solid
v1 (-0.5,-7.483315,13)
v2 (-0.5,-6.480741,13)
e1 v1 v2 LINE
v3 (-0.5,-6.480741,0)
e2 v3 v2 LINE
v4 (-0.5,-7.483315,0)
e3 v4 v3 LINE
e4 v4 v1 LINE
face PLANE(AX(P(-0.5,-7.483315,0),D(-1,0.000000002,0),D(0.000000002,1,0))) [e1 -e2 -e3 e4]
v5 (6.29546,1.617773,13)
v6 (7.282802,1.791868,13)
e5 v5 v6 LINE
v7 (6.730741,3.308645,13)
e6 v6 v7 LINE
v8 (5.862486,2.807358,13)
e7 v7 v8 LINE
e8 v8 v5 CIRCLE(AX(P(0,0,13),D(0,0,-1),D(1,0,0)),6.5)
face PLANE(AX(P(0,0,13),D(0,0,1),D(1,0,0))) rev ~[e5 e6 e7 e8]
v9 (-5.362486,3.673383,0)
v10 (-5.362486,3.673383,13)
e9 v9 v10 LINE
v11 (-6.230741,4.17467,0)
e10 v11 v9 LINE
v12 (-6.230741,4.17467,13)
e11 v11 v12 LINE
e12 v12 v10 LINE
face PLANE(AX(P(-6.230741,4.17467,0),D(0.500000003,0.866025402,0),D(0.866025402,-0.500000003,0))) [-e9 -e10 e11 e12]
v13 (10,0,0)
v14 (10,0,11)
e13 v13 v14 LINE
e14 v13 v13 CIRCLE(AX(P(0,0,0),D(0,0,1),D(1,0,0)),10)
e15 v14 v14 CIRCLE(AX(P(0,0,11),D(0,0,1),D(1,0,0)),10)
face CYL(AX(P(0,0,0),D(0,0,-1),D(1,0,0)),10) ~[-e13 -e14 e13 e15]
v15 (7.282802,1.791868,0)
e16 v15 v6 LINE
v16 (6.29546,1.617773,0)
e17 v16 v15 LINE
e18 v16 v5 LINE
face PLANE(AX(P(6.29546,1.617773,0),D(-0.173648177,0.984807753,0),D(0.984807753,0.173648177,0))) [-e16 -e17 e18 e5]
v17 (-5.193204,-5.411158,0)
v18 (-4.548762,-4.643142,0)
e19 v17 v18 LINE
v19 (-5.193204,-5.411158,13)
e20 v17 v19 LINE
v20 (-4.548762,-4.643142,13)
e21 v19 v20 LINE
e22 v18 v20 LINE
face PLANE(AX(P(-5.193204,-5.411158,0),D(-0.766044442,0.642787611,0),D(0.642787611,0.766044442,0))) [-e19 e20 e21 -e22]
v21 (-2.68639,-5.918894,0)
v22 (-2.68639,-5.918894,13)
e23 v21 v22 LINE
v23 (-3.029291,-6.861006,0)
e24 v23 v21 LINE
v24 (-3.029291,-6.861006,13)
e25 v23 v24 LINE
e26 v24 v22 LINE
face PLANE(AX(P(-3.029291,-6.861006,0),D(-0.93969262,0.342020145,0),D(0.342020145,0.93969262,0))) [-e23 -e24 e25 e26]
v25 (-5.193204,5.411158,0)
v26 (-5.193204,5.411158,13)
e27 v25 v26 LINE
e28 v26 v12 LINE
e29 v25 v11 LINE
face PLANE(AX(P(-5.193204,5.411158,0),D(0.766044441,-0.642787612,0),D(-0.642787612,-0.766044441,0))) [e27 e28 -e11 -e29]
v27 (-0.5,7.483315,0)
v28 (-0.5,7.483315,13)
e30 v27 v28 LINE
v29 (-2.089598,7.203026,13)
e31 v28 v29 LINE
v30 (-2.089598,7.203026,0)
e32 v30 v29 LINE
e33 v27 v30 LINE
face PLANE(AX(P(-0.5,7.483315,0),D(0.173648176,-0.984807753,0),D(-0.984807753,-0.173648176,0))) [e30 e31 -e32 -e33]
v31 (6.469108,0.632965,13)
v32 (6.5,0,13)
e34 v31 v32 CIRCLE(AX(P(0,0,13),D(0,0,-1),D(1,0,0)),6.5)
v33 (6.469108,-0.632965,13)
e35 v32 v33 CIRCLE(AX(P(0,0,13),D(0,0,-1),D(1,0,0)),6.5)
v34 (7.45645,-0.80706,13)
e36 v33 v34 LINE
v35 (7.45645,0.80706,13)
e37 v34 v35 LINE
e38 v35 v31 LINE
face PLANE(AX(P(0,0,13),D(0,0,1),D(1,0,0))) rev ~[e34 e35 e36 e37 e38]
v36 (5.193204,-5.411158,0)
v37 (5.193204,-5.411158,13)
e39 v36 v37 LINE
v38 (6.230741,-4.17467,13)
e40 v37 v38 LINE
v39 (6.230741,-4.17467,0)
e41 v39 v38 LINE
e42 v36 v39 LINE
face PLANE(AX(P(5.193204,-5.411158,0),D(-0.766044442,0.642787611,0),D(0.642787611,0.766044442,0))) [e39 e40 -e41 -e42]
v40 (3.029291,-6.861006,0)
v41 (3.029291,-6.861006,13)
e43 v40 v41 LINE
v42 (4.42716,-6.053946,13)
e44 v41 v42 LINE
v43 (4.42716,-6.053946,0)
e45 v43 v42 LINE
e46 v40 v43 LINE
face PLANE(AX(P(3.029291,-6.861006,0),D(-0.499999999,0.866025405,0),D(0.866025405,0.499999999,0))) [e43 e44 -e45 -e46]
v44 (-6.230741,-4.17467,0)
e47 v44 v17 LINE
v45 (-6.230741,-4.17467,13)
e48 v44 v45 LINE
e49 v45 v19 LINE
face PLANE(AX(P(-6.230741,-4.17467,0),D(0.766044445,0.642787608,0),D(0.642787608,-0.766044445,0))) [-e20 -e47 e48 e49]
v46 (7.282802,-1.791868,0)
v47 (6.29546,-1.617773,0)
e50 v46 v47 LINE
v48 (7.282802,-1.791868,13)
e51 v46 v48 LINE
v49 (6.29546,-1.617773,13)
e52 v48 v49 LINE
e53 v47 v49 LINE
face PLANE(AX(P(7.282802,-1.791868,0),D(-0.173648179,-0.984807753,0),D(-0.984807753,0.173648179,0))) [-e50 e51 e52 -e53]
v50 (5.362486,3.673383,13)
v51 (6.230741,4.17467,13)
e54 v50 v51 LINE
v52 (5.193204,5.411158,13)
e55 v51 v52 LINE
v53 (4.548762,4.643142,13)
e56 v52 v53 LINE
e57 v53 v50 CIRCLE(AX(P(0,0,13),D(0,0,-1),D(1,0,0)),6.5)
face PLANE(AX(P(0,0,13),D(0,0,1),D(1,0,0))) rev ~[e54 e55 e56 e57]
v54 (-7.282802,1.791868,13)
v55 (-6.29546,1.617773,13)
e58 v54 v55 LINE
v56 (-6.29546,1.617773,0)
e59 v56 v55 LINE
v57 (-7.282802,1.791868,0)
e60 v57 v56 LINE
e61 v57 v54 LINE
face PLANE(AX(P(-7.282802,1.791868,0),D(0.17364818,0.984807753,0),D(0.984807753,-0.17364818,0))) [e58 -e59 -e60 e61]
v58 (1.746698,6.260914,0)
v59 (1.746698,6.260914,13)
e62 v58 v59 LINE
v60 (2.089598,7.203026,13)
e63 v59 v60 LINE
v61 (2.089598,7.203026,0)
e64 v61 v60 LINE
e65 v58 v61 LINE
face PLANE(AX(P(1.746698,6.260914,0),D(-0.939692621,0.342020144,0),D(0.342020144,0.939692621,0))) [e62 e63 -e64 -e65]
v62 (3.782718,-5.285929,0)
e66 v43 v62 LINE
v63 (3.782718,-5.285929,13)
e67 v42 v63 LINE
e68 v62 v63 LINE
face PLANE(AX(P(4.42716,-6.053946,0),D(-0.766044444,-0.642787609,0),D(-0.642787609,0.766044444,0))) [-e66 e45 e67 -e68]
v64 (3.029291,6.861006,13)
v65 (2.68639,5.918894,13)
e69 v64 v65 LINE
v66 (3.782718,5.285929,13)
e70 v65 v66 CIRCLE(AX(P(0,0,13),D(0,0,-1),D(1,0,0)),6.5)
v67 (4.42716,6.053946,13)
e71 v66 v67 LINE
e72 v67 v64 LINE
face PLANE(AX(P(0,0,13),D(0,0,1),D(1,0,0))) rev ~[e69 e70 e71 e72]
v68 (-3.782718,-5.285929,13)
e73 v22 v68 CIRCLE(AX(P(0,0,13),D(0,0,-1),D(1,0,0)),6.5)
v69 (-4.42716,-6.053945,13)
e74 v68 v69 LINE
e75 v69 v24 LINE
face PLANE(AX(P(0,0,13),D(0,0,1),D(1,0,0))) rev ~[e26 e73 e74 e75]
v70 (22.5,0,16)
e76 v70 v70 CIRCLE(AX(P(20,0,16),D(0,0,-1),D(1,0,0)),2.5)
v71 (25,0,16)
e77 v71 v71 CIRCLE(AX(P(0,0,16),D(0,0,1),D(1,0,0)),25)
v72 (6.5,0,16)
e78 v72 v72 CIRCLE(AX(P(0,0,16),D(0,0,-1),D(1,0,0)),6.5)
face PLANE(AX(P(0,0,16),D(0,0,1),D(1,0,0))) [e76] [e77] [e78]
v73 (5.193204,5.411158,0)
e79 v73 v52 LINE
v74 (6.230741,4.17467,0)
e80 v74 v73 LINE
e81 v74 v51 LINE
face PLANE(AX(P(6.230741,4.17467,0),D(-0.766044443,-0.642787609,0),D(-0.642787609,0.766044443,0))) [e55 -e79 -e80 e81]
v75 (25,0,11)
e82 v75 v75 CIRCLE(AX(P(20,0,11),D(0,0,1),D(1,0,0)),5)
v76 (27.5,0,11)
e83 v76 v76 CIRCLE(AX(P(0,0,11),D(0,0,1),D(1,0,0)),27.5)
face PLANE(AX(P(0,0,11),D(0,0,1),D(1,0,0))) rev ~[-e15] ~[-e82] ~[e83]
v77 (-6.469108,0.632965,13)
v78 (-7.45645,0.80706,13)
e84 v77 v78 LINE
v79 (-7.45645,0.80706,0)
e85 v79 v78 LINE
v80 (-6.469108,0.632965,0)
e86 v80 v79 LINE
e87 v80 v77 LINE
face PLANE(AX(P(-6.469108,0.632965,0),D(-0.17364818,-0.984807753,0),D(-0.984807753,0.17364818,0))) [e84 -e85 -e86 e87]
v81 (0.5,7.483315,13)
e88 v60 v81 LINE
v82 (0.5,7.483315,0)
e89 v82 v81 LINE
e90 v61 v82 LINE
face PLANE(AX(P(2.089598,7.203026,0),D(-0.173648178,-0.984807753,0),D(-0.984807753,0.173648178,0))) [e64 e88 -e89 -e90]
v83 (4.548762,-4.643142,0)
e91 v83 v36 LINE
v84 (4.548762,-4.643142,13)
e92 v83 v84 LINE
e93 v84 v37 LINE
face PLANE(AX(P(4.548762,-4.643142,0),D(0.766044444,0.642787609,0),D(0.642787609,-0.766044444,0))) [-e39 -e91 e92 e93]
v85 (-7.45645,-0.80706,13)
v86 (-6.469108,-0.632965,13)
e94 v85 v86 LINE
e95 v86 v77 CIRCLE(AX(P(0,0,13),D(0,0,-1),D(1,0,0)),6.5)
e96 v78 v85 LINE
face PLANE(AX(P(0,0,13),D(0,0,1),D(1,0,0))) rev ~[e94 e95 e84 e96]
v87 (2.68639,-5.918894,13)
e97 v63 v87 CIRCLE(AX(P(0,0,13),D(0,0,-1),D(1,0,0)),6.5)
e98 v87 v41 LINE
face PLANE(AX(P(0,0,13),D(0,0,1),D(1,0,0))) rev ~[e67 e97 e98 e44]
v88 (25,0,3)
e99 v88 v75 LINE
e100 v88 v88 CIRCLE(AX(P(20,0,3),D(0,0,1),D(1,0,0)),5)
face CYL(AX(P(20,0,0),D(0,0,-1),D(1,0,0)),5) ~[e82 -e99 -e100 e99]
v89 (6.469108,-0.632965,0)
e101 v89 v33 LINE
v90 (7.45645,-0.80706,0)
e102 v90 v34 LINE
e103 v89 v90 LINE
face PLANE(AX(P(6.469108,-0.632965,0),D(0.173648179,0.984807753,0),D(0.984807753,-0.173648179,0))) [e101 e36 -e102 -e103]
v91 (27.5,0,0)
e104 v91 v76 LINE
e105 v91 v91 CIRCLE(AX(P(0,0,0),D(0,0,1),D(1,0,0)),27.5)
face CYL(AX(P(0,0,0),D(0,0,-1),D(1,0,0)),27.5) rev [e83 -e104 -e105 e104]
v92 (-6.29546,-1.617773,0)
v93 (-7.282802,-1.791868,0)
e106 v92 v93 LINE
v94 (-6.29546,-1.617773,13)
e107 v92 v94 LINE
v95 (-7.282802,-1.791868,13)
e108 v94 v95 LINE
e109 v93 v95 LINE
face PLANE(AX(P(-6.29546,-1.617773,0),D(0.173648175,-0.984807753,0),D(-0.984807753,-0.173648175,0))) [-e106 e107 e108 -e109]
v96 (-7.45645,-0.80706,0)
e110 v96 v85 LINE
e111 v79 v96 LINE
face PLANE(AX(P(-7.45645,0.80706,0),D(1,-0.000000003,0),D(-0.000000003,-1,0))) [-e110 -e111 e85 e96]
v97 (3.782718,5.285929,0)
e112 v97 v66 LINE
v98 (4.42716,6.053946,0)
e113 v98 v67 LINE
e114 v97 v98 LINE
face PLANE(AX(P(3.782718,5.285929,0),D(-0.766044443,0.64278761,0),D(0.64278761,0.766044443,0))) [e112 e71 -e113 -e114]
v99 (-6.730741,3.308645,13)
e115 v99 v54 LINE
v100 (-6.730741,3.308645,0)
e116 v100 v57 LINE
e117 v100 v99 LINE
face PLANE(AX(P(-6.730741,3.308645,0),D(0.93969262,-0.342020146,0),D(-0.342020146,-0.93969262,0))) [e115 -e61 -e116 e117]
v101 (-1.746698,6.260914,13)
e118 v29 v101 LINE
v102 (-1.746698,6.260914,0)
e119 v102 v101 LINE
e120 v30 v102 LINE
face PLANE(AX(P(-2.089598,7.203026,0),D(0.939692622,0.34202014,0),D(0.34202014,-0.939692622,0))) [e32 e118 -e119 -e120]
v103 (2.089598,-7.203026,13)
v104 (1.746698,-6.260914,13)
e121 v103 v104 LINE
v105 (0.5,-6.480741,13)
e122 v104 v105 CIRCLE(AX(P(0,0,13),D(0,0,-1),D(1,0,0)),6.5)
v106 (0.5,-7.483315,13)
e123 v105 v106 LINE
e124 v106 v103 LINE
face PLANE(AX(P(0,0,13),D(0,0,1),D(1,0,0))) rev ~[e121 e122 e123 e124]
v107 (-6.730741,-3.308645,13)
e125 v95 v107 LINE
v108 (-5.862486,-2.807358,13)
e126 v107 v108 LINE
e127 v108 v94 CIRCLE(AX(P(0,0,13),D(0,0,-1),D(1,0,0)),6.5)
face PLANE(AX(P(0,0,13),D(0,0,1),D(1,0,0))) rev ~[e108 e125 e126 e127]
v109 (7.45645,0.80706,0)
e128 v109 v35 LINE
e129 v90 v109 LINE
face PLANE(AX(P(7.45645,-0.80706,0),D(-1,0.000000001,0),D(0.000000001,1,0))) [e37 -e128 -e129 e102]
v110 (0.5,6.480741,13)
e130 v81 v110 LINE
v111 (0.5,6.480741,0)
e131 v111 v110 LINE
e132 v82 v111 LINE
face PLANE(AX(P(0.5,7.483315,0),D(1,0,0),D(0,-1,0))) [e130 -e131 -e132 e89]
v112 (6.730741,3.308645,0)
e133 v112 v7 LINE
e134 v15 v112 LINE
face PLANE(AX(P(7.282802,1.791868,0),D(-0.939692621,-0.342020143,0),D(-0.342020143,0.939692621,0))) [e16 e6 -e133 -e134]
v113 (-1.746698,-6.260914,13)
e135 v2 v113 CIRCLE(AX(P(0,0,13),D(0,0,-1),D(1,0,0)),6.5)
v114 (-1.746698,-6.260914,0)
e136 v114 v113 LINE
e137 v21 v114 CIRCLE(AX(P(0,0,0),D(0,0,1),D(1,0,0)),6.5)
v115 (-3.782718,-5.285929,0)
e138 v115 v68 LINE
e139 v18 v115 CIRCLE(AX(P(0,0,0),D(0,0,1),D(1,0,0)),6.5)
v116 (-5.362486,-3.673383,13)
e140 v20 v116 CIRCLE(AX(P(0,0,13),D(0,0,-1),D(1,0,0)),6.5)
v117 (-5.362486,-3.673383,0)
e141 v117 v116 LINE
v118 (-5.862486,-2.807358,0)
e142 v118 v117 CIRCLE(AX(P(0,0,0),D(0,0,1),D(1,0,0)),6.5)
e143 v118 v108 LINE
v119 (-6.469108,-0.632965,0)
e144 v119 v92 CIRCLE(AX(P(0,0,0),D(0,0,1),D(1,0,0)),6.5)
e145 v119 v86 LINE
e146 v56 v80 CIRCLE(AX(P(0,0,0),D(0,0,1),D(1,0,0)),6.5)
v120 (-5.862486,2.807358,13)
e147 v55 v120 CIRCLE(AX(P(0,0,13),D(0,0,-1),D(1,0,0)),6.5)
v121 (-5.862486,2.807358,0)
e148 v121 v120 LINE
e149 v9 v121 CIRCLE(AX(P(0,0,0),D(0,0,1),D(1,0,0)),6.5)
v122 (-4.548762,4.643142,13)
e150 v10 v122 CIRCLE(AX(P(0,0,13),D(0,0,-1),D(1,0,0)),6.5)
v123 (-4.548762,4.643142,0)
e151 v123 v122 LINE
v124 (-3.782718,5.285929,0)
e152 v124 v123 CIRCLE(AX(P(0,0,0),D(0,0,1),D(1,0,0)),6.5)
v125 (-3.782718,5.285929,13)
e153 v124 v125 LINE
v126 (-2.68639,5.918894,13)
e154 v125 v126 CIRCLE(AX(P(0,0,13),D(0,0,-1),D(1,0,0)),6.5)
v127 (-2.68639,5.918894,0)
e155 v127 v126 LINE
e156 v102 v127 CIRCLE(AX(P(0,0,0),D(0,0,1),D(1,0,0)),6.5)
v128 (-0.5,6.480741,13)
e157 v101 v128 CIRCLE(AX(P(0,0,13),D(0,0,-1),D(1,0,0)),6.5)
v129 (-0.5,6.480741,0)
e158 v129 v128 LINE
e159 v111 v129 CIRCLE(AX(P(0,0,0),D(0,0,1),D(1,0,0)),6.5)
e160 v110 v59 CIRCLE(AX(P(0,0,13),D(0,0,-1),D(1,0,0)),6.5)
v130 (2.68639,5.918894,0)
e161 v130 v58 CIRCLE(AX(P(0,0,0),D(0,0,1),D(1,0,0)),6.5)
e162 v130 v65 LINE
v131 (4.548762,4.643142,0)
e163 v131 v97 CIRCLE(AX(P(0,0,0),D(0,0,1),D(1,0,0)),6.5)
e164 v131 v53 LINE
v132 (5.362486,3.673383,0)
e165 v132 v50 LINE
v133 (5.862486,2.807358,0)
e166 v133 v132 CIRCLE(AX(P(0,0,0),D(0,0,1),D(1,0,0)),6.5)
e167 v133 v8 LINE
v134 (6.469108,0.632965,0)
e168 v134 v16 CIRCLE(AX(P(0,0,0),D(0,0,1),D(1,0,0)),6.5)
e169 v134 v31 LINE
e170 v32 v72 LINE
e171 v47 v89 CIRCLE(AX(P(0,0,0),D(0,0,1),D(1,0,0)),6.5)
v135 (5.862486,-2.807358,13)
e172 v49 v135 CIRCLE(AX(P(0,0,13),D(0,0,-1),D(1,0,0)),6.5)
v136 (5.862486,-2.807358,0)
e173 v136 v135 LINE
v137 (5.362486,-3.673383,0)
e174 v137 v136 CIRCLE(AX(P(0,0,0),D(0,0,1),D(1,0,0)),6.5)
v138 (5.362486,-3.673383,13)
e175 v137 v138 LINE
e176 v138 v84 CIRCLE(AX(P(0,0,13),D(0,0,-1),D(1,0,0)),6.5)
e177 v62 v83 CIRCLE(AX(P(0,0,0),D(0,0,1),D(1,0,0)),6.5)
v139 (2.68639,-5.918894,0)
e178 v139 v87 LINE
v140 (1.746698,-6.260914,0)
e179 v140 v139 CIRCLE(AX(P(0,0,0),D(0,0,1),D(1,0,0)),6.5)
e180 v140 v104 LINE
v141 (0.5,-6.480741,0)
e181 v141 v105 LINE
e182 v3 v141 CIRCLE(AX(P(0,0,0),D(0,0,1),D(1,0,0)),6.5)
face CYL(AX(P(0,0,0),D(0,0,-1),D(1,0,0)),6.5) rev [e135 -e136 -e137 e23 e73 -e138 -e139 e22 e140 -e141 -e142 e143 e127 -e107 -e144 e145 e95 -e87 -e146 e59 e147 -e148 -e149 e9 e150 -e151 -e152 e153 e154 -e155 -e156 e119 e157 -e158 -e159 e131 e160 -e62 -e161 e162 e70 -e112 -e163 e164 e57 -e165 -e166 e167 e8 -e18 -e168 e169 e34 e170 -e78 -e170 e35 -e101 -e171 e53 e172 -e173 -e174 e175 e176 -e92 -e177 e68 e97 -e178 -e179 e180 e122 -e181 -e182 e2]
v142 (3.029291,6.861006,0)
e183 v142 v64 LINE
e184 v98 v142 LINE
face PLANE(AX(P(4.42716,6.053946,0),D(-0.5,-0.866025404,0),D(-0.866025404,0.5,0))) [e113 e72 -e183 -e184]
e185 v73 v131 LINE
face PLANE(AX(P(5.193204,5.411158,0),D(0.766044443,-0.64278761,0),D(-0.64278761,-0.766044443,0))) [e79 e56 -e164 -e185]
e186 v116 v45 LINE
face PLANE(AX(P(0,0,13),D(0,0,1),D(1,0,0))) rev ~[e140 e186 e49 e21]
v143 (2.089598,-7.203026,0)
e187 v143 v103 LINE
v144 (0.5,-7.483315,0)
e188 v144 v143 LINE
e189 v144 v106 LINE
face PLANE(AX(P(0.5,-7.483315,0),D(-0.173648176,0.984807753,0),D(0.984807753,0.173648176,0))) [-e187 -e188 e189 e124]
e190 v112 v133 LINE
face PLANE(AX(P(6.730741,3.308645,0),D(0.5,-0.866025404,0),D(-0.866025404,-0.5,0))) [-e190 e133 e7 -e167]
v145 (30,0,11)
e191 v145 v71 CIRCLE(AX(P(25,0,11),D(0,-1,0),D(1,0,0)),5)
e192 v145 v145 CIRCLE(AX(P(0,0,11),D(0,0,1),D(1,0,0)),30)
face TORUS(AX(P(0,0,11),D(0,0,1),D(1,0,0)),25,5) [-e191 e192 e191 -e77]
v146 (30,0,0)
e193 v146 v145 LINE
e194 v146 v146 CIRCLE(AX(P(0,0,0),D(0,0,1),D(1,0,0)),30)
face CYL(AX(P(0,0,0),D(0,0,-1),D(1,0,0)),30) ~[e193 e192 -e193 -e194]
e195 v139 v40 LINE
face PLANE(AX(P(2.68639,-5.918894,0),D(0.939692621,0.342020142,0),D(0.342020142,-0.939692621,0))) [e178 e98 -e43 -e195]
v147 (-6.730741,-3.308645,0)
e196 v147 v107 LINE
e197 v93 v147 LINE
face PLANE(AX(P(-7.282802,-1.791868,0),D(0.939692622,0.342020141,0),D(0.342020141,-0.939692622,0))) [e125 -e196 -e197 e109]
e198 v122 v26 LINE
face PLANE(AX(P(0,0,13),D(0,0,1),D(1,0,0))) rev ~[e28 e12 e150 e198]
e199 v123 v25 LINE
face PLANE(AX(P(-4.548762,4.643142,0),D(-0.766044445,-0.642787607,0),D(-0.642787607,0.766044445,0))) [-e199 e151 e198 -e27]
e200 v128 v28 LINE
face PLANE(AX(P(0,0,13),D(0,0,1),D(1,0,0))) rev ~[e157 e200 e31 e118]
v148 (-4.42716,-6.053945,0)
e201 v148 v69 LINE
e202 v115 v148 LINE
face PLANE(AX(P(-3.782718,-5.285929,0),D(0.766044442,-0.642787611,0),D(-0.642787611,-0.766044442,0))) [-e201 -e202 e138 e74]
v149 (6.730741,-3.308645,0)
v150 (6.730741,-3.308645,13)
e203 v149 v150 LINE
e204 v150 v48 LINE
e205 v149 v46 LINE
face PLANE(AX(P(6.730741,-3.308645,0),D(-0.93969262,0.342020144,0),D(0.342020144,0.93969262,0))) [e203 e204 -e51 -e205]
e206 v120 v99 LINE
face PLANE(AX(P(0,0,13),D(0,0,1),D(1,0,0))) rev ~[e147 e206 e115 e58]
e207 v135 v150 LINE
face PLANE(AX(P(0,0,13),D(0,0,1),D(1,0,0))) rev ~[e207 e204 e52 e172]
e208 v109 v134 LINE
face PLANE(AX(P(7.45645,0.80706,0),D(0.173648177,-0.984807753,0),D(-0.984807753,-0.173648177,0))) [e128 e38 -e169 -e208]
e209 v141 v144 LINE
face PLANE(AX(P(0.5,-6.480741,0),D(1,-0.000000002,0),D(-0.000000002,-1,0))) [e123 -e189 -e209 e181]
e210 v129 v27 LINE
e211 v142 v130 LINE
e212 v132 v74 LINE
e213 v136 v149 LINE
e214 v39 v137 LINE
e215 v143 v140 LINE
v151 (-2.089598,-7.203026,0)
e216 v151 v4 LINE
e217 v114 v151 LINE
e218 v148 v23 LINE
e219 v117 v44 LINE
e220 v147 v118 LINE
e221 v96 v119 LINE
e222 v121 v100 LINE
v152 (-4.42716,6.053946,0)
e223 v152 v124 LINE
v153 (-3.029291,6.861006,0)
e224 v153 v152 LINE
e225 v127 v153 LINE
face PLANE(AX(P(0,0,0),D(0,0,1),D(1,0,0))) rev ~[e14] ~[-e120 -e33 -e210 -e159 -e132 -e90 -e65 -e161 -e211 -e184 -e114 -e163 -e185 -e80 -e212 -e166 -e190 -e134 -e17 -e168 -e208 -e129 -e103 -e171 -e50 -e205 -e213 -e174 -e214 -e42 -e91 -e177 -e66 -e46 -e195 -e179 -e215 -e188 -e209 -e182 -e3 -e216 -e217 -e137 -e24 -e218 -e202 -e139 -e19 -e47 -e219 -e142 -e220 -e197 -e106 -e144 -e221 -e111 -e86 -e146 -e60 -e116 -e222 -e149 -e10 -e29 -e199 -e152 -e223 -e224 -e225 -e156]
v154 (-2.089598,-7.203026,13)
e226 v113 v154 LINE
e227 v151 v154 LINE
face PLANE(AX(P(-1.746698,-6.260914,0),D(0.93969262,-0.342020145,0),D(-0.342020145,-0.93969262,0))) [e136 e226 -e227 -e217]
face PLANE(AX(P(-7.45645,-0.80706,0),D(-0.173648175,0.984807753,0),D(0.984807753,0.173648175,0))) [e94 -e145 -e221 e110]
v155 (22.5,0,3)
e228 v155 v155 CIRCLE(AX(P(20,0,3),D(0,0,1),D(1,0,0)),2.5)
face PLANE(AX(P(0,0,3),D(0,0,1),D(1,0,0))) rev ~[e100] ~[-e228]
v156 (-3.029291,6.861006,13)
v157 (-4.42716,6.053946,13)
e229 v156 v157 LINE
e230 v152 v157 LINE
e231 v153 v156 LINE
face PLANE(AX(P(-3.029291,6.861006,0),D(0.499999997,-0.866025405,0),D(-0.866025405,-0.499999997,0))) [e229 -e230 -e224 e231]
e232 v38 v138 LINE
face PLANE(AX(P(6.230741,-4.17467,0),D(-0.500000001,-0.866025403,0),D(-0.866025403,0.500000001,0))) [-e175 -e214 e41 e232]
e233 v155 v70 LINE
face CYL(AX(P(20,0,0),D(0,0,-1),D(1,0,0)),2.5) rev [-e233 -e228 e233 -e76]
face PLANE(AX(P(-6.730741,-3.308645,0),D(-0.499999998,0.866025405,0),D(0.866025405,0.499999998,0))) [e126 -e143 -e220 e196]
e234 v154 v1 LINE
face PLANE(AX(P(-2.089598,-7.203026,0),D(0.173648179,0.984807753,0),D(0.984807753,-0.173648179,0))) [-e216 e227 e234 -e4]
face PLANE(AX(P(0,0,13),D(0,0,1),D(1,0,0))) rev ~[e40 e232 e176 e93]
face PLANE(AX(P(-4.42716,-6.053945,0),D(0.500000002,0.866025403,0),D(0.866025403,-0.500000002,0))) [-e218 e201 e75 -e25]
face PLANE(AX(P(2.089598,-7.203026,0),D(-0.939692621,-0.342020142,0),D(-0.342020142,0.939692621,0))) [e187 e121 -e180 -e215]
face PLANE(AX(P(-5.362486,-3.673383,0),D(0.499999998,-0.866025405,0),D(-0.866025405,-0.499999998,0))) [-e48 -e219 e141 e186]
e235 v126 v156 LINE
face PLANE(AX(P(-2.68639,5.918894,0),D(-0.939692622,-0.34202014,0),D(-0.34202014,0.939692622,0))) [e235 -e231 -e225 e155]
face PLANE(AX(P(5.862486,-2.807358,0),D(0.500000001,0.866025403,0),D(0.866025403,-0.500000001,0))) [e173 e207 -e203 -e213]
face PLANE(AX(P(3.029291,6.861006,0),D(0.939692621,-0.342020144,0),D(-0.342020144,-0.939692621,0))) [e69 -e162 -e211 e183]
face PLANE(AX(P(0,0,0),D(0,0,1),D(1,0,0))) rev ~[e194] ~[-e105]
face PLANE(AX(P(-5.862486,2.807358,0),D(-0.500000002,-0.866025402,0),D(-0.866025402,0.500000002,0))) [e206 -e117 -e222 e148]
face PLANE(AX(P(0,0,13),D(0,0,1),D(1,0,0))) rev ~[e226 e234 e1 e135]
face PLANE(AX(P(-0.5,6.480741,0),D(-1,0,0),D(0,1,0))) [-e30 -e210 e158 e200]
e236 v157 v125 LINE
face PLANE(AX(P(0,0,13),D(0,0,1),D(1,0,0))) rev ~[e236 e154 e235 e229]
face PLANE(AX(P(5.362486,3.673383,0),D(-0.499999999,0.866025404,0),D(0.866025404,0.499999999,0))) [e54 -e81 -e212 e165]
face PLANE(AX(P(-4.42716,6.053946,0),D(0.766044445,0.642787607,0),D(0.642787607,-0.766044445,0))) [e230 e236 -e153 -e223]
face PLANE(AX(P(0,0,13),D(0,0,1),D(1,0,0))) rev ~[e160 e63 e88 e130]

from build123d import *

# Parameters (mm, degrees)
F1_R      = 30
F2_DEPTH  = 16
F3_DEPTH  = 13
F4_R      = 6.5
F5_DEPTH  = 16.001
F6_R      = 2.5
F7_DEPTH  = 16.001
F8_R      = 5
F9_R      = 27.5
F9_R_2    = 10
F9_R_3    = 5
F10_DEPTH = 11
F11_DEPTH = 3


with BuildPart() as f2:
    # F1 (on Top) → F2 (new body)
    with BuildSketch(Plane.XY):
        Circle(F1_R)
    extrude(amount=F2_DEPTH)

    # F0 (on Top) → F3 (cut)
    with BuildSketch(Plane.XY):
        Polygon((0.5, 7.4833147735), (0.5, 6.4807406984), (-0.5, 6.4807406984), (-0.5, 7.4833147735), (-2.0895980578, 7.2030257501), (-1.746697532, 6.2609142888), (-2.6863901539, 5.9188941485), (-3.0292906797, 6.8610056098), (-4.4271597759, 6.0539455166), (-3.782717585, 5.2859292156), (-4.54876203, 4.6431416082), (-5.193204221, 5.4111579093), (-6.2307406865, 4.1746701064), (-5.3624860697, 3.6733830663), (-5.8624860722, 2.807357664), (-6.730740689, 3.308644704), (-7.2828023136, 1.7918678691), (-6.2954595919, 1.6177727054), (-6.4691077722, 0.6329649529), (-7.4564504939, 0.8070601166), (-7.456450498, -0.8070600785), (-6.4691077754, -0.6329649198), (-6.2954596002, -1.6177726732), (-7.2828023228, -1.7918678319), (-6.7307407059, -3.3086446696), (-5.8624860865, -2.807357634), (-5.3624860885, -3.6733830389), (-6.2307407079, -4.1746700745), (-5.1932042487, -5.4111578827), (-4.5487620538, -4.643141585), (-3.782717612, -5.2859291963), (-4.4271598069, -6.053945494), (-3.0292907148, -6.8610055943), (-2.6863901841, -5.9188941348), (-1.746697564, -6.2609142799), (-2.0895980946, -7.2030257394), (-0.5000000128, -7.4833147727), (-0.500000011, -6.4807406976), (0.499999989, -6.4807406993), (0.4999999872, -7.4833147744), (2.0895980701, -7.2030257465), (1.7466975426, -6.2609142858), (2.686390164, -5.9188941439), (3.0292906914, -6.8610056046), (4.4271597862, -6.0539455091), (3.782717594, -5.2859292092), (4.5487620379, -4.6431416005), (5.1932042302, -5.4111579004), (6.2307406937, -4.1746700957), (5.362486076, -3.6733830572), (5.862486077, -2.807357654), (6.7307406946, -3.3086446925), (7.2828023167, -1.7918678567), (6.2954595947, -1.6177726947), (6.4691077733, -0.6329649418), (7.4564504953, -0.8070601039), (7.4564504967, 0.8070600912), (6.4691077744, 0.6329649308), (6.2954595974, 1.6177726839), (7.2828023197, 1.7918678443), (6.7307407003, 3.3086446811), (5.8624860818, 2.807357644), (5.3624860822, 3.673383048), (6.2307407008, 4.1746700851), (5.1932042394, 5.4111578916), (4.5487620458, 4.6431415927), (3.782717603, 5.2859292027), (4.4271597966, 6.0539455016), (3.0292907031, 6.8610055995), (2.686390174, 5.9188941393), (1.7466975533, 6.2609142829), (2.0895980824, 7.203025743), align=None)
    extrude(amount=F3_DEPTH, mode=Mode.SUBTRACT)

    # F4 (on Top) → F5 (cut, through all)
    with BuildSketch(Plane.XY):
        Circle(F4_R)
    extrude(amount=F5_DEPTH, mode=Mode.SUBTRACT)

    # F6 (on Top) → F7 (cut, through all)
    with BuildSketch(Plane.XY):
        with Locations((20, 0)):
            Circle(F6_R)
    extrude(amount=F7_DEPTH, mode=Mode.SUBTRACT)

    # F8
    f8_edges = [f2.edges().sort_by_distance(p)[0] for p in [
        (-30, 0, 16),
    ]]
    fillet(f8_edges, radius=F8_R)

    # F9 (on Top) → F10 (cut)
    with BuildSketch(Plane.XY):
        Circle(F9_R)
        Circle(F9_R_2, mode=Mode.SUBTRACT)
        with Locations((20, 0)):
            Circle(F9_R_3, mode=Mode.SUBTRACT)
    extrude(amount=F10_DEPTH, mode=Mode.SUBTRACT)

    # F11 (cut): a face of the model
    f11_faces = [f2.faces().sort_by_distance(p)[0] for p in [
        (15.1414213562, 0, 0),
    ]]
    extrude(f11_faces, amount=-F11_DEPTH, mode=Mode.SUBTRACT)


solid = f2.part
